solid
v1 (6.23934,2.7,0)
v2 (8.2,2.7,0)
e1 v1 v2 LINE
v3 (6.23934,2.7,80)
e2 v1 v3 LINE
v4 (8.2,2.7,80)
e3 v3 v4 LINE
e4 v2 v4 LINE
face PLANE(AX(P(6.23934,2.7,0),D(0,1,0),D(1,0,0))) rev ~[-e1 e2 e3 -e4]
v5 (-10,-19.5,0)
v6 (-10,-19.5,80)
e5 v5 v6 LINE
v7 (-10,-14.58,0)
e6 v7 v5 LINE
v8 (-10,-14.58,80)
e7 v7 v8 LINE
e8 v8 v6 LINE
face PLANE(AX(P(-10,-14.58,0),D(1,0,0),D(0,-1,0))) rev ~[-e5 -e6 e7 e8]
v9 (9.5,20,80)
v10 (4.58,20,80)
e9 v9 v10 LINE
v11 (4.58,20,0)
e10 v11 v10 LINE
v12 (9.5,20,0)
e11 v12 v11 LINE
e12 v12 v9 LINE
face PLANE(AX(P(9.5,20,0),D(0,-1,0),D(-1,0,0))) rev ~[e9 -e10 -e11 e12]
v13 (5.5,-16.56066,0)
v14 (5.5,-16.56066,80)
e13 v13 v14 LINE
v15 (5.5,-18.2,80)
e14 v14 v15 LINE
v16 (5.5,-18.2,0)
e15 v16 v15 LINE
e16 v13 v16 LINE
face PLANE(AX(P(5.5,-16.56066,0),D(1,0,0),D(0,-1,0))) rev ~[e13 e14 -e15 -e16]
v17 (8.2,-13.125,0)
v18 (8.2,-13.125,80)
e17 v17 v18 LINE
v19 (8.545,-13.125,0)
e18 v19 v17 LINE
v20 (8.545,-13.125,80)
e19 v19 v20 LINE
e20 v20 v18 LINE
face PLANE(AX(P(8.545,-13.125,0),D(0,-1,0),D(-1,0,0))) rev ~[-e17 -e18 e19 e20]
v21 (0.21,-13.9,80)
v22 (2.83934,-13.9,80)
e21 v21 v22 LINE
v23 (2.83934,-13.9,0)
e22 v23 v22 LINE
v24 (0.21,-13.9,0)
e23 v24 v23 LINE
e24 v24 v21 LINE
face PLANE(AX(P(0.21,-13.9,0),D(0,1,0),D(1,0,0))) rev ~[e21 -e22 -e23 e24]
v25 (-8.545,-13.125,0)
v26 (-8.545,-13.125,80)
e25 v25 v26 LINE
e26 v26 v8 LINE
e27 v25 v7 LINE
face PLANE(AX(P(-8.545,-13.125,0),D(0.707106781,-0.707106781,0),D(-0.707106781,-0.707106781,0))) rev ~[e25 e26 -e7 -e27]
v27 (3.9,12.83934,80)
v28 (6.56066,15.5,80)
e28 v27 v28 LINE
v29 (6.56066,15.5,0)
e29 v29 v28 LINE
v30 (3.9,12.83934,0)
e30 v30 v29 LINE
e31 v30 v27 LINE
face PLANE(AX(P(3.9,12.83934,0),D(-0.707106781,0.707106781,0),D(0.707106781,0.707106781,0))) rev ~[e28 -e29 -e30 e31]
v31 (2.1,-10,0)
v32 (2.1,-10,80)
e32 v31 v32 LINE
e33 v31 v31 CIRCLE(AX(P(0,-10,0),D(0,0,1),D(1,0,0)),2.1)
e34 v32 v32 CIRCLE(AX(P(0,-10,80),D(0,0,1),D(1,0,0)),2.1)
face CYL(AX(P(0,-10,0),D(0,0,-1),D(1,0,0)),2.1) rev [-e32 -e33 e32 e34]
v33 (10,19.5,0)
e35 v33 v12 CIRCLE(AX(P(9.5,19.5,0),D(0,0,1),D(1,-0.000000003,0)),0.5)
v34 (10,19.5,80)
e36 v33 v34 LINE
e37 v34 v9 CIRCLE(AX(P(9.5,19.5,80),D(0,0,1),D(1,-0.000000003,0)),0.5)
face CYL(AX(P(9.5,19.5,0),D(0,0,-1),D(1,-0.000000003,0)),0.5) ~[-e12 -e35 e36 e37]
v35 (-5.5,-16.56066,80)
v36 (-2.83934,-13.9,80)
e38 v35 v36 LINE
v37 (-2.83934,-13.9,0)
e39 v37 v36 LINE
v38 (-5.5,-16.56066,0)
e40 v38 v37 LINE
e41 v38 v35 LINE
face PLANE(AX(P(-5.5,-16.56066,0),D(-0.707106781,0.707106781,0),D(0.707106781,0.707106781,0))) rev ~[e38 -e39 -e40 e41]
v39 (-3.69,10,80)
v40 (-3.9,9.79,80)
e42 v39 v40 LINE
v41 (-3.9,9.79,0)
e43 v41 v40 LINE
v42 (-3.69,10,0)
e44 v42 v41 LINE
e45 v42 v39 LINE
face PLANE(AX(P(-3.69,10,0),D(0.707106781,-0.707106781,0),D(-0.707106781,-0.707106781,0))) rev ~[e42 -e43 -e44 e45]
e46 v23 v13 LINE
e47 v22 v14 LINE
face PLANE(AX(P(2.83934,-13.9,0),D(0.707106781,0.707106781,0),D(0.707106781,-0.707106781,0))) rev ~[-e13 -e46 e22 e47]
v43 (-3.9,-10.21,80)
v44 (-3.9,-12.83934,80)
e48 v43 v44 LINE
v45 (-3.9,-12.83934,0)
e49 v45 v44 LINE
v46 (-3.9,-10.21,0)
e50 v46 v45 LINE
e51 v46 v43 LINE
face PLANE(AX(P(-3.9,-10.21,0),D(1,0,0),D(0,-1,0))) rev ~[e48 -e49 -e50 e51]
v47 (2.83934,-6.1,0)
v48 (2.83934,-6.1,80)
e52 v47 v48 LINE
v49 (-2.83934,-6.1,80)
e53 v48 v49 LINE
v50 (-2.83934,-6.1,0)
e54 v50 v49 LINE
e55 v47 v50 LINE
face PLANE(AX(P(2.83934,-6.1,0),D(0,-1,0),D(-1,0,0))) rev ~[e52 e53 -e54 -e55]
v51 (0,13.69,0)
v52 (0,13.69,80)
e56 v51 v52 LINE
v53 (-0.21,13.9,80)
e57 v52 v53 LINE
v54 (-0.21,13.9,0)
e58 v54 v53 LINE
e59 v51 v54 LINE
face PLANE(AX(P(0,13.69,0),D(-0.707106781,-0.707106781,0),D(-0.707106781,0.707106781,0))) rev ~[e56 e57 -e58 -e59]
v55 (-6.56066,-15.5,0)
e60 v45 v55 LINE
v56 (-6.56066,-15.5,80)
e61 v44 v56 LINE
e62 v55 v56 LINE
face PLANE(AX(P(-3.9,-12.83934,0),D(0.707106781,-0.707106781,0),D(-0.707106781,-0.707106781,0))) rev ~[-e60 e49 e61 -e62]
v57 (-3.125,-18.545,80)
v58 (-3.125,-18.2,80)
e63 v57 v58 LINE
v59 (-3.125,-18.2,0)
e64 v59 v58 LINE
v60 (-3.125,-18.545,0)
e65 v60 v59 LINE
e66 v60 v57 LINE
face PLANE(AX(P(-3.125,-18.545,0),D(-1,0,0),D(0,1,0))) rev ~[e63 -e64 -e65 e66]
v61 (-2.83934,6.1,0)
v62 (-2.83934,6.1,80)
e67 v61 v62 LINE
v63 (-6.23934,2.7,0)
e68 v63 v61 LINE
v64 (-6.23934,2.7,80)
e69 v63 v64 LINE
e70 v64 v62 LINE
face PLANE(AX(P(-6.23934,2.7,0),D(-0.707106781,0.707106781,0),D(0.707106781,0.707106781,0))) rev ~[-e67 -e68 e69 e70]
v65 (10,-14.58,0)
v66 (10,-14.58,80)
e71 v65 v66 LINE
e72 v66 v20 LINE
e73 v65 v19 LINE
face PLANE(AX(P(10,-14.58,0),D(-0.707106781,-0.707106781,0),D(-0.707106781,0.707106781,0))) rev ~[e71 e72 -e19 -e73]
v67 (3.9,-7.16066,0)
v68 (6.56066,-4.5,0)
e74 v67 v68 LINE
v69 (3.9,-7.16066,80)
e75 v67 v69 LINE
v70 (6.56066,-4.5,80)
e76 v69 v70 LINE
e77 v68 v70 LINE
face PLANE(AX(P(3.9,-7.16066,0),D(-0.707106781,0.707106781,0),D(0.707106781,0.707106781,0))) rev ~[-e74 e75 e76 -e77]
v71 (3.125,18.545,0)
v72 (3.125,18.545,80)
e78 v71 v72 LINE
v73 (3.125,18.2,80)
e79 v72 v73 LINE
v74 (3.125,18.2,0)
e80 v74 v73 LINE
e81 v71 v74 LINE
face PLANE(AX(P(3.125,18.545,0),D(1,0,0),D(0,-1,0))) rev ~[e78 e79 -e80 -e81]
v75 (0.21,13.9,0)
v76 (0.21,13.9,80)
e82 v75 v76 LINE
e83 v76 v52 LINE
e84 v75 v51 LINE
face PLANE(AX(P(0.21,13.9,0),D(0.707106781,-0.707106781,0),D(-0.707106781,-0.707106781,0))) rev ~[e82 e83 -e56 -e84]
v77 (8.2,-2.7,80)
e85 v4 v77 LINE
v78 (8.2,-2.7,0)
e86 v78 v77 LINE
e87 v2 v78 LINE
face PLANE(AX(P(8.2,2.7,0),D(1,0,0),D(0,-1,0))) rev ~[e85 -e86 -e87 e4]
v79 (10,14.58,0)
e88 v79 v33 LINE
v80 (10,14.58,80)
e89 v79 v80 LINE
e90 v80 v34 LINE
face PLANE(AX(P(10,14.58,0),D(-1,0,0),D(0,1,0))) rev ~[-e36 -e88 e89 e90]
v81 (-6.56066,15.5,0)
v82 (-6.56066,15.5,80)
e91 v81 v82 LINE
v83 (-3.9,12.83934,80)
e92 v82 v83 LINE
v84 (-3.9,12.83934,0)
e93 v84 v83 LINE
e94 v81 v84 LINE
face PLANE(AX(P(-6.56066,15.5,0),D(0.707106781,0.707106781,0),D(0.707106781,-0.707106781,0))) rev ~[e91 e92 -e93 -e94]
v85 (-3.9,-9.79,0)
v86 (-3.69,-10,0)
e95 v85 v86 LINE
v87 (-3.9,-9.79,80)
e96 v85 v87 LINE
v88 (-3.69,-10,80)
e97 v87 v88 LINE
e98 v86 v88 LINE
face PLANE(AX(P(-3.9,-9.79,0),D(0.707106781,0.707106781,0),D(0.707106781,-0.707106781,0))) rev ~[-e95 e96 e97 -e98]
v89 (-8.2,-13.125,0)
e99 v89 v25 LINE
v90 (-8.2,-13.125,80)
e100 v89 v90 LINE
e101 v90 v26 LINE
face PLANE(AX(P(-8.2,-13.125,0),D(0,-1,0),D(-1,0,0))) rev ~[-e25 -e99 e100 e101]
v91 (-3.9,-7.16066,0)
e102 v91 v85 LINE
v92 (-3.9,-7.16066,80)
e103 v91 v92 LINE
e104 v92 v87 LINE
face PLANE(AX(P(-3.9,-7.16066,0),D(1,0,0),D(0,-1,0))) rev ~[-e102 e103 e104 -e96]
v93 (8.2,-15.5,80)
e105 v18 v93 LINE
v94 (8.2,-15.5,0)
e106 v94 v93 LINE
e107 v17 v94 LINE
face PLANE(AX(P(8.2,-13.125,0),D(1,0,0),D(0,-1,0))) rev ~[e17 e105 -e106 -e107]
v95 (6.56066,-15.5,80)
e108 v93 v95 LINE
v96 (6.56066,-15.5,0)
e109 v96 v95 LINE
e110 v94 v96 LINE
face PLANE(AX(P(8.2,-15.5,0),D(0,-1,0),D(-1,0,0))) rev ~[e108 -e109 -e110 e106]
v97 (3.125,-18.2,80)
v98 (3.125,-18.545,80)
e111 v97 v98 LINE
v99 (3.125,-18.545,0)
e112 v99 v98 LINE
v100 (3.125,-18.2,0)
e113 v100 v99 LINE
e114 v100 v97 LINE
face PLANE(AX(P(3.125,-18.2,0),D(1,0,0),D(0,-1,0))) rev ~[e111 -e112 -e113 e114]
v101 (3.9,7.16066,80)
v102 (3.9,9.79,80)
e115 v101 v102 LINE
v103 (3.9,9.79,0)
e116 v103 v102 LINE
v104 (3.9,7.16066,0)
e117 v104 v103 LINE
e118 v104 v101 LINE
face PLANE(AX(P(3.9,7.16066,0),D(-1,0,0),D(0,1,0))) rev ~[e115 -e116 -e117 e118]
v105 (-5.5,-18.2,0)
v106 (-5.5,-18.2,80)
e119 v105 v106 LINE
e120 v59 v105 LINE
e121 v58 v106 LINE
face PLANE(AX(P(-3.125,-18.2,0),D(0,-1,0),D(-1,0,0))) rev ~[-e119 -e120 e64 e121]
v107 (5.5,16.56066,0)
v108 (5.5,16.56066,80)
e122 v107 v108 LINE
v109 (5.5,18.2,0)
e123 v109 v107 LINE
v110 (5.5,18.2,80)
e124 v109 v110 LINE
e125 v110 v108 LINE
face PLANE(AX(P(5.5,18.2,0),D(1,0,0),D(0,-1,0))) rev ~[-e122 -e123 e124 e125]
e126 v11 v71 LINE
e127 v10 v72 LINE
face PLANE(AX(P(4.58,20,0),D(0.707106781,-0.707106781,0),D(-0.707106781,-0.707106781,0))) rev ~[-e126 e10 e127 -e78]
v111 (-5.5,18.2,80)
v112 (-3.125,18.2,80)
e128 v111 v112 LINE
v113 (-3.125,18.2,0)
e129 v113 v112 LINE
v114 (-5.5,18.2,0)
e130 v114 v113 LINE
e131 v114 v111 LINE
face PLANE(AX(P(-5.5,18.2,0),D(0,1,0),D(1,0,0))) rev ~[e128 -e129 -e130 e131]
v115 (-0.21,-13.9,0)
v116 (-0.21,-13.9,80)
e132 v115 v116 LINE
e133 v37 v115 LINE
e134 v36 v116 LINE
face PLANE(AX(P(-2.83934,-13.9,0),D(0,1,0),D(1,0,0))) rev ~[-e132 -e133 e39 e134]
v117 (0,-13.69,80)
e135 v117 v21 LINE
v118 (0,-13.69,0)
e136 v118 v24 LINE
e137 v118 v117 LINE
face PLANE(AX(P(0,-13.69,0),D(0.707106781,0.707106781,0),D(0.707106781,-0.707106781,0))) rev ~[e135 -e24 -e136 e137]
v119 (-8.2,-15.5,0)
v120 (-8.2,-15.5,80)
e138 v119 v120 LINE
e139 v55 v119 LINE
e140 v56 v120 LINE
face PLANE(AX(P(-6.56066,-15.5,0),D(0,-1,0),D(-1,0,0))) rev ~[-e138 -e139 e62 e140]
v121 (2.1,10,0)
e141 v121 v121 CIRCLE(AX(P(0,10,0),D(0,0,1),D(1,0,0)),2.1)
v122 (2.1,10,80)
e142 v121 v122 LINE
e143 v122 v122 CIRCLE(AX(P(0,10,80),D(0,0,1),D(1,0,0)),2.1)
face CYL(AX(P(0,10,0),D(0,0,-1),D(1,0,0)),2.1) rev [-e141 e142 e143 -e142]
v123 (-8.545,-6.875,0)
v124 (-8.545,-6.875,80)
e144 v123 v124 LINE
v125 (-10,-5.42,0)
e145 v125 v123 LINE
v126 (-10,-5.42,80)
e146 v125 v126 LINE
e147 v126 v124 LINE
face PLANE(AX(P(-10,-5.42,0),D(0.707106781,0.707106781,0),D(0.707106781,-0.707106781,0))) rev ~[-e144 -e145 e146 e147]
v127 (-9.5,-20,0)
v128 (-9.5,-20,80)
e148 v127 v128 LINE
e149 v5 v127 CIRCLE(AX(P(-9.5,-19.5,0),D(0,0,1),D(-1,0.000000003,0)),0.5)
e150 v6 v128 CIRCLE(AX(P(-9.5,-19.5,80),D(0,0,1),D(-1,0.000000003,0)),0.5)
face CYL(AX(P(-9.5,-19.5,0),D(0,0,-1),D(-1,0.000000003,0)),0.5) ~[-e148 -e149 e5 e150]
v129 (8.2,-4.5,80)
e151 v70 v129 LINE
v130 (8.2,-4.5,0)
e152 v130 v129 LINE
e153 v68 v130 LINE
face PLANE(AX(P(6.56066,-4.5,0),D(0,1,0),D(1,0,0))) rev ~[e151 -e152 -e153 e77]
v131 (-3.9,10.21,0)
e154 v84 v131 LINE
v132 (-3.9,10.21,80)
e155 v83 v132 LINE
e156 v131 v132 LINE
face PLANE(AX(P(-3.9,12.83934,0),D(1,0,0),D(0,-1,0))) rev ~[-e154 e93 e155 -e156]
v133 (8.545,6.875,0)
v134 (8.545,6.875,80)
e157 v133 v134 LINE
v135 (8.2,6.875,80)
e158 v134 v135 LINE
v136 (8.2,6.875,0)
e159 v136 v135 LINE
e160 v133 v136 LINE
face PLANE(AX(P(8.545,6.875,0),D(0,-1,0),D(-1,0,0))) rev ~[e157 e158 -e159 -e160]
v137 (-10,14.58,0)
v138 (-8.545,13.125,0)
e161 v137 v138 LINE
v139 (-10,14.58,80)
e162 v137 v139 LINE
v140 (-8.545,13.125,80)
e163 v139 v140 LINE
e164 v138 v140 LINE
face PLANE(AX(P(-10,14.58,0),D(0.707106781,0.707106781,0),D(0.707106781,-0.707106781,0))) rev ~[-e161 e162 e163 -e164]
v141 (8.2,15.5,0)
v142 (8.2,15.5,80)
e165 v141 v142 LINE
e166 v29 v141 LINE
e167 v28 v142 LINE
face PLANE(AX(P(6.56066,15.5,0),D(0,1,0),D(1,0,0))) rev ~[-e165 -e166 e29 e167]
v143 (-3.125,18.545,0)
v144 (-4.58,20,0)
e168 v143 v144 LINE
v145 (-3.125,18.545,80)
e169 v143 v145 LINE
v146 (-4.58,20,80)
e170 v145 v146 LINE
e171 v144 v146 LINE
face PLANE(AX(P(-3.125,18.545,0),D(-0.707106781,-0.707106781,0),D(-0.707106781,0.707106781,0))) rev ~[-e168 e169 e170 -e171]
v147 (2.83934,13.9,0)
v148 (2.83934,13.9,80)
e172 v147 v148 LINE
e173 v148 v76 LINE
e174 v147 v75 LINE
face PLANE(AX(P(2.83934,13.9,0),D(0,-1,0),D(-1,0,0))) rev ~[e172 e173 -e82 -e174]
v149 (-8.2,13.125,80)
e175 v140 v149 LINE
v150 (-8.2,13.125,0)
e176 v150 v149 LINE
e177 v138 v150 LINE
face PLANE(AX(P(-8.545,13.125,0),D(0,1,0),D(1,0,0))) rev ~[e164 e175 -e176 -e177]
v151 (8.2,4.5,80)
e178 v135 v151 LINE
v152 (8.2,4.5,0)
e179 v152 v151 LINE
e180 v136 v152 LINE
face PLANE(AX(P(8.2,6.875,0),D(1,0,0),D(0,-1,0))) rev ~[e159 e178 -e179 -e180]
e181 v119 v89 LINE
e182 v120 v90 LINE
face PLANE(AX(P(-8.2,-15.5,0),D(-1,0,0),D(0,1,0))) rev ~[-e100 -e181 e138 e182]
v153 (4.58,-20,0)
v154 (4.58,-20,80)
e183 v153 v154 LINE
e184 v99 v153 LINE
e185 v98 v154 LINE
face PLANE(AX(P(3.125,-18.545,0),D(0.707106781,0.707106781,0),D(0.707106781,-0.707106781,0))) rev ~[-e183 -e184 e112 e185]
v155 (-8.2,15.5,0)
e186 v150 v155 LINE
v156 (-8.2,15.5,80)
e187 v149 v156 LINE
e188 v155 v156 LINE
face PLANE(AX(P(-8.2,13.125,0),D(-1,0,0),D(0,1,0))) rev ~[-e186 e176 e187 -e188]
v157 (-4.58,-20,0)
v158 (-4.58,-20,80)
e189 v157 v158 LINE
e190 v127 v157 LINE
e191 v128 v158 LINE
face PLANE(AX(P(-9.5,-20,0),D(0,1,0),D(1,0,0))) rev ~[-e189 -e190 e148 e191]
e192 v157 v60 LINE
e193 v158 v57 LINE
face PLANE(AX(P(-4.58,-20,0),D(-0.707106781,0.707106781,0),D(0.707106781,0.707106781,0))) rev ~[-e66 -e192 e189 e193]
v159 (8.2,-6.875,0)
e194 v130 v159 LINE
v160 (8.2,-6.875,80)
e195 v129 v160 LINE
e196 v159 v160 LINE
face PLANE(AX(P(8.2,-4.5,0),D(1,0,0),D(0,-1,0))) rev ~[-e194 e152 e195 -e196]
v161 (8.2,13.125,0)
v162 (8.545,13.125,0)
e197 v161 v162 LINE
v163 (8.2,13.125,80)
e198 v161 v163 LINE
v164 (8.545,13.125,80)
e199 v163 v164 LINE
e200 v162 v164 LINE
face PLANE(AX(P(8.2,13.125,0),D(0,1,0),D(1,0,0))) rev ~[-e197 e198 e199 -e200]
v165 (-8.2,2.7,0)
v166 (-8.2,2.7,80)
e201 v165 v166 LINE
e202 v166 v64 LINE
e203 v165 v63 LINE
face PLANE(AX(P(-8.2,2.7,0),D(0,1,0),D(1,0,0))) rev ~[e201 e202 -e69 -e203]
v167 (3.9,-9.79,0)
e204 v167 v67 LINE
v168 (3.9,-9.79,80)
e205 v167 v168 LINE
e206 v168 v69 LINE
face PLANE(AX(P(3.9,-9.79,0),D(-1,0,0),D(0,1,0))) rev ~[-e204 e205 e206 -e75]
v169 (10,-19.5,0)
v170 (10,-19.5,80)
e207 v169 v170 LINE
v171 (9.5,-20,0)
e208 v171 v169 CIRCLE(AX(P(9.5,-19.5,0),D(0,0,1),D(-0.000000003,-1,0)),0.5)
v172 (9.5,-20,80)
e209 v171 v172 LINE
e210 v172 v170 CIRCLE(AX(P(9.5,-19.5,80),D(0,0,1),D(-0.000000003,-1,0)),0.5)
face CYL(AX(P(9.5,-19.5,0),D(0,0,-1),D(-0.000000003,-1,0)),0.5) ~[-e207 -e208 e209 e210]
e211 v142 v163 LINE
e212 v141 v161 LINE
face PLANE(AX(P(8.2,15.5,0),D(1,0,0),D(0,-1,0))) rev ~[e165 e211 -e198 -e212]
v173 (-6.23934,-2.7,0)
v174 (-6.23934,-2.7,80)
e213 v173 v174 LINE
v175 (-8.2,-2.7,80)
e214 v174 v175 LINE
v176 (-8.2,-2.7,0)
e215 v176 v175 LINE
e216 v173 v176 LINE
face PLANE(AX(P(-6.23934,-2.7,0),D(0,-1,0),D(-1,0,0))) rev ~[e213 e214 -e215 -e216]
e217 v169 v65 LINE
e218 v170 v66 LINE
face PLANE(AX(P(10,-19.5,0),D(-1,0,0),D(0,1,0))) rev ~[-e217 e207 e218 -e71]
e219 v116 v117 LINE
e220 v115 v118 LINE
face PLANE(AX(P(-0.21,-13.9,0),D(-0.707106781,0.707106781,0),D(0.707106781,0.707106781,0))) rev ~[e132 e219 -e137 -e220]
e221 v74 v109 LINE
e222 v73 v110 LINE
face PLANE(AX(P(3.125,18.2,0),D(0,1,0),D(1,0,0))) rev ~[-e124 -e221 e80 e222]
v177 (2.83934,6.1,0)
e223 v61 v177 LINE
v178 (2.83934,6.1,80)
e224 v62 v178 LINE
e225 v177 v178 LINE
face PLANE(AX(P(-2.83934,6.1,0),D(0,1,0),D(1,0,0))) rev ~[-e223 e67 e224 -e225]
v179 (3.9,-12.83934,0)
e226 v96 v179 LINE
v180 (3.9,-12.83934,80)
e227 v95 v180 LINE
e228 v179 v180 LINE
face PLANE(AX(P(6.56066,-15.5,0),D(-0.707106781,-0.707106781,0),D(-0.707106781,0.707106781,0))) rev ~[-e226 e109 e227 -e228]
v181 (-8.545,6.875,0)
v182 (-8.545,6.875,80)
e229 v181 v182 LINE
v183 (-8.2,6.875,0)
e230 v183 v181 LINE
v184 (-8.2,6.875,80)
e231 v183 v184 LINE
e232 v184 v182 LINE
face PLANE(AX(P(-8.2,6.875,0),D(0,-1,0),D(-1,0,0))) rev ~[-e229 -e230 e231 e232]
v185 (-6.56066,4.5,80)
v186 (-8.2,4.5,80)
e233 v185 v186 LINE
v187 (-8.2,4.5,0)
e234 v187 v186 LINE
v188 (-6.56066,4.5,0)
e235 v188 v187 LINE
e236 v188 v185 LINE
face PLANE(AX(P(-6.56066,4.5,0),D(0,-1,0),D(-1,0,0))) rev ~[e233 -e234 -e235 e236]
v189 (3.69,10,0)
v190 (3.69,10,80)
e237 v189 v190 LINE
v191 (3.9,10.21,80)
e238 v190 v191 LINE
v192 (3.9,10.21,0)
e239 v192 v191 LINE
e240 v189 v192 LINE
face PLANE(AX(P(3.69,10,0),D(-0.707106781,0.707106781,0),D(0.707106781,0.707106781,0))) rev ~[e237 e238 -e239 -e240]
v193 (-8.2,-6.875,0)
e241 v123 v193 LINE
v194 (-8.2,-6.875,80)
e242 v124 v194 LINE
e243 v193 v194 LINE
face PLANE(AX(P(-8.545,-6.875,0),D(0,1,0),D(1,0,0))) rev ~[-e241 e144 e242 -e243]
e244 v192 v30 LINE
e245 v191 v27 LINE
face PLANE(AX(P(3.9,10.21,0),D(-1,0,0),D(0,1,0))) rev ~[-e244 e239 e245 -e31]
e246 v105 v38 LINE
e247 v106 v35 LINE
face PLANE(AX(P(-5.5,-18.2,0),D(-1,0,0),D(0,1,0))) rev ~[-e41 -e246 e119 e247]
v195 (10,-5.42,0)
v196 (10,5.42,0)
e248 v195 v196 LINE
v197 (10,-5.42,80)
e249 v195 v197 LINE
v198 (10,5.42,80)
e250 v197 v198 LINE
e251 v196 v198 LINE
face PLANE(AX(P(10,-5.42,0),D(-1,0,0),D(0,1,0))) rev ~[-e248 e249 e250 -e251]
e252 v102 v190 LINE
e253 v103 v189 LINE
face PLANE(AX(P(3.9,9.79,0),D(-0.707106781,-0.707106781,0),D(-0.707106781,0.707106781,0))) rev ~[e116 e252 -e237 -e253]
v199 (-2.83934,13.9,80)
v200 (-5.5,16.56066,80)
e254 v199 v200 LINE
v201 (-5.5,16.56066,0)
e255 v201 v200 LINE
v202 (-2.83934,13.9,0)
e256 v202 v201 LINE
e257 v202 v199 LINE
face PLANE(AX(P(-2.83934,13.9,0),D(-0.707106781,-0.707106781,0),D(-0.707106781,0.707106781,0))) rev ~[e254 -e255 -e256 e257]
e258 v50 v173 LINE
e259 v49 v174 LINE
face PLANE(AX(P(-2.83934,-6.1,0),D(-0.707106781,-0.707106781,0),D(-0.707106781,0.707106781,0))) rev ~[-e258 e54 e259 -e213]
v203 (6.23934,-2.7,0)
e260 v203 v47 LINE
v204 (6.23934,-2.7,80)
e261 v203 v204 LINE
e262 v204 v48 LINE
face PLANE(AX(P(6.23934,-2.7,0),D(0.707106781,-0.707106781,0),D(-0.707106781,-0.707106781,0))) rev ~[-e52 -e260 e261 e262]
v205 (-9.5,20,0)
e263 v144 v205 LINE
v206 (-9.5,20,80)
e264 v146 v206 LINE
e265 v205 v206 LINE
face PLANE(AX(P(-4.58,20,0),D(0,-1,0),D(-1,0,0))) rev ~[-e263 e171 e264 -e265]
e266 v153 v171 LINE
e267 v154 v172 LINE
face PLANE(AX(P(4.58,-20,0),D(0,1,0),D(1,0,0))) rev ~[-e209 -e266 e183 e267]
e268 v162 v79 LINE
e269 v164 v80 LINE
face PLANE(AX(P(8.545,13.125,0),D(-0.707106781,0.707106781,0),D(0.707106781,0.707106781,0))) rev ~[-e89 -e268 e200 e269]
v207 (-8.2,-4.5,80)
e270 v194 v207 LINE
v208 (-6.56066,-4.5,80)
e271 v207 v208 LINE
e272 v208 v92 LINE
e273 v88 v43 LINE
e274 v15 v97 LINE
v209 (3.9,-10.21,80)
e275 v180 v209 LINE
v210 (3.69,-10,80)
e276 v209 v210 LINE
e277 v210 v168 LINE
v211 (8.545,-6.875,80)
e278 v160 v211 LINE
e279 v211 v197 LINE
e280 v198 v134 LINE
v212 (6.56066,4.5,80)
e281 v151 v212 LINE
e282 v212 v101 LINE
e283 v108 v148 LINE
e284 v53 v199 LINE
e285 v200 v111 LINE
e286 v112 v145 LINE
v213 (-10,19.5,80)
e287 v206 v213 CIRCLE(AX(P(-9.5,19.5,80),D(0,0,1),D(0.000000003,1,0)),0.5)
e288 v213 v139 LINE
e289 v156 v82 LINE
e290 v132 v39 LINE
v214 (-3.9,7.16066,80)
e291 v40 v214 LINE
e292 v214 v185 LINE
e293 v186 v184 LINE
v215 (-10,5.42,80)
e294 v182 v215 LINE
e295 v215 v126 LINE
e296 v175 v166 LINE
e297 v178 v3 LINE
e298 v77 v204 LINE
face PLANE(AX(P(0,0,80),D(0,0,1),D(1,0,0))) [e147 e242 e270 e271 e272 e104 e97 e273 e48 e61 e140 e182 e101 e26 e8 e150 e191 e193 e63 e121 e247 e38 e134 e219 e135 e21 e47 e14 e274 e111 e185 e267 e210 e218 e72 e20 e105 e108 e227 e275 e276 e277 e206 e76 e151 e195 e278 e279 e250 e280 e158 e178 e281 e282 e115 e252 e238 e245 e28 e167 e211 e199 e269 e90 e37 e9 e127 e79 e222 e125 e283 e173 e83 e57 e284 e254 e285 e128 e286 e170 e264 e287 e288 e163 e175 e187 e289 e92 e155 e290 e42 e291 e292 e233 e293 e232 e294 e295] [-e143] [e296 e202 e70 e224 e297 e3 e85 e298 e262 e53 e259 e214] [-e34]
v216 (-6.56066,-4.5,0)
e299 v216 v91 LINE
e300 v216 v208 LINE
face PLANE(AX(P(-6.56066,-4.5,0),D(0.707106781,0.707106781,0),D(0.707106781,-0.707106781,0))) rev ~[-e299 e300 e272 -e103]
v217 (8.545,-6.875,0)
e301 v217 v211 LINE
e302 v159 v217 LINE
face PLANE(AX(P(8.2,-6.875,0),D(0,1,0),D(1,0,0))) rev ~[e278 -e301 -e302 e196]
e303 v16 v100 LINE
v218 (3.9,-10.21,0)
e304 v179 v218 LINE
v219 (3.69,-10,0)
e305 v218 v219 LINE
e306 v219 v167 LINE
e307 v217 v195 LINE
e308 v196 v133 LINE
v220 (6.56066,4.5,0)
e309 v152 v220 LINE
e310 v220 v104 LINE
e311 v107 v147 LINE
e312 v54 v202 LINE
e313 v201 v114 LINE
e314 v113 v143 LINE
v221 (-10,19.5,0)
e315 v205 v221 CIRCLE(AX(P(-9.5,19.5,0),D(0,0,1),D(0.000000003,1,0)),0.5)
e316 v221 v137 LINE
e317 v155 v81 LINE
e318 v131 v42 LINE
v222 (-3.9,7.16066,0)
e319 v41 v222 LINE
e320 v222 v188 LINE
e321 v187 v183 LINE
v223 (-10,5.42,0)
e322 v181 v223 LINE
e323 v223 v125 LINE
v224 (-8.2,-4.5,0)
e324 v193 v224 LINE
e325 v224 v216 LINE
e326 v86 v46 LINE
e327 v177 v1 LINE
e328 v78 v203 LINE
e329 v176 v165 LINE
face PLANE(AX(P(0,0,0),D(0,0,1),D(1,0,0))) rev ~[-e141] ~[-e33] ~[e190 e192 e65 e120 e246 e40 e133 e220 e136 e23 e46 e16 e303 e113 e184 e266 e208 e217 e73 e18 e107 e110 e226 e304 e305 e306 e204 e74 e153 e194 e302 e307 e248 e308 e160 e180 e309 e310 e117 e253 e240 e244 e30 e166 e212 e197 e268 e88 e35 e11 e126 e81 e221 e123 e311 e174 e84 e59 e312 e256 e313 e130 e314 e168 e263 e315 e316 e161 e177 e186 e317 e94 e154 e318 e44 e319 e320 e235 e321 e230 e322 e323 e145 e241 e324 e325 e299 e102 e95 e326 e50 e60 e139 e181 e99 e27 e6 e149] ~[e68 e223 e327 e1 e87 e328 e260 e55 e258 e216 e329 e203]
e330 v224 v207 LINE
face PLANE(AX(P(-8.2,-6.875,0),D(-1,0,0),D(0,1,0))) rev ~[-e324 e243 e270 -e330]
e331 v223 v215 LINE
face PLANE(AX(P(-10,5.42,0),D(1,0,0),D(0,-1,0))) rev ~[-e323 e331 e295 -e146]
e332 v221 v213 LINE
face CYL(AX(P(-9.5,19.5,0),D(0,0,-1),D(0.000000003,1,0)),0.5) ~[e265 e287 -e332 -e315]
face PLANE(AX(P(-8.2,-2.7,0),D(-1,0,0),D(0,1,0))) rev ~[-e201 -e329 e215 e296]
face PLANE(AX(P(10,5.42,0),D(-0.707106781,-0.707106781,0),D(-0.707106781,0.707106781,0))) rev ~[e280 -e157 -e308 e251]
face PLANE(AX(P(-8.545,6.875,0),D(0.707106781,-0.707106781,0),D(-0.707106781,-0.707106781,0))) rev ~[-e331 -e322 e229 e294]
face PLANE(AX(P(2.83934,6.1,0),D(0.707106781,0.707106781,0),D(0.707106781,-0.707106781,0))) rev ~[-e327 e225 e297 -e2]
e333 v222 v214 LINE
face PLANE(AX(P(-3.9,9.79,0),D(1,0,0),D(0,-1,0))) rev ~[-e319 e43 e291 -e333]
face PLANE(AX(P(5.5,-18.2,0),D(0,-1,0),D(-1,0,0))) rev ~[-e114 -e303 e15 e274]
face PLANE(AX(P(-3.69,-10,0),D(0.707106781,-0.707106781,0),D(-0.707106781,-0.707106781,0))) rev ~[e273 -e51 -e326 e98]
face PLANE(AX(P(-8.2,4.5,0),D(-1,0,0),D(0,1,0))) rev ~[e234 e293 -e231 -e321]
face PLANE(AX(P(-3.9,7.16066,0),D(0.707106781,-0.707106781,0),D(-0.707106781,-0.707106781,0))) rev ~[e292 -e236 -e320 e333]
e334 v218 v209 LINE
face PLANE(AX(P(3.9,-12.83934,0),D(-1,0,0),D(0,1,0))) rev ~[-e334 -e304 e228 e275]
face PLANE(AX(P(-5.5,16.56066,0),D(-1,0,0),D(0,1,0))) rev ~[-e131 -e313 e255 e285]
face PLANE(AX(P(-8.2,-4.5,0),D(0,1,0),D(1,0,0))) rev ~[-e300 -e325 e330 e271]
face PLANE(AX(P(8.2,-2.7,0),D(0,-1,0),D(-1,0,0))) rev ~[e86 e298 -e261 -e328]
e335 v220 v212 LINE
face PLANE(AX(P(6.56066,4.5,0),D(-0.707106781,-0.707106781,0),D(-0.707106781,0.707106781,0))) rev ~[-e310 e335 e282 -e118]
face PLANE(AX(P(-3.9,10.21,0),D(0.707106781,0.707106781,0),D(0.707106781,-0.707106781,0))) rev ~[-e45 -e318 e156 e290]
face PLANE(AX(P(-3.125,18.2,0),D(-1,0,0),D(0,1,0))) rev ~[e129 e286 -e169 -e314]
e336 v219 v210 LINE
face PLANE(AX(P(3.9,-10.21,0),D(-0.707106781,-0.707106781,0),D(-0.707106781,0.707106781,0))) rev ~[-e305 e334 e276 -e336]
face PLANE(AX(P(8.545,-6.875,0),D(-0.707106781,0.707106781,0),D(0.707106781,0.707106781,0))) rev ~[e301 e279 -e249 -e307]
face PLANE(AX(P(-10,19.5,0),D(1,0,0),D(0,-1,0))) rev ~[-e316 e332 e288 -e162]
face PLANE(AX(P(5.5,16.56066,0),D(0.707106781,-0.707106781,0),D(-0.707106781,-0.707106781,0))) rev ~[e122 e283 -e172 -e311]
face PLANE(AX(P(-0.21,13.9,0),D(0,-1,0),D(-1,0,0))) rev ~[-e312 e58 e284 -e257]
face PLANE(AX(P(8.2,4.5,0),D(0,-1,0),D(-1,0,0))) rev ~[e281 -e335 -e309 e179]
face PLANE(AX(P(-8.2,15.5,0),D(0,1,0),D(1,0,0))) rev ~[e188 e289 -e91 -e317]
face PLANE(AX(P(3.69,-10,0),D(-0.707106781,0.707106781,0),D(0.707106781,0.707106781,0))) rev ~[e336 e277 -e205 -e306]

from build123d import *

# Parameters (mm, degrees)
SKETCH1_R           = 2.1
BOSS_EXTRUDE1_DEPTH = 80


with BuildPart() as part:
    # Sketch1 → Boss-Extrude1 (new body)
    with BuildSketch(Plane.XY):
        with BuildLine():
            Line((4.58, -20), (9.5, -20))
            ThreePointArc((9.5, -20), (9.853553391, -19.853553391), (10, -19.5))
            Line((10, -19.5), (10, -14.58))
            Line((10, -14.58), (8.545, -13.125))
            Line((8.545, -13.125), (8.2, -13.125))
            Line((8.2, -13.125), (8.2, -15.5))
            Line((8.2, -15.5), (6.560660172, -15.5))
            Line((6.560660172, -15.5), (3.9, -12.839339828))
            Line((3.9, -12.839339828), (3.9, -10.21))
            Line((3.9, -10.21), (3.69, -10))
            Line((3.69, -10), (3.9, -9.79))
            Line((3.9, -9.79), (3.9, -7.160660172))
            Line((3.9, -7.160660172), (6.560660172, -4.5))
            Line((6.560660172, -4.5), (8.2, -4.5))
            Line((8.2, -4.5), (8.2, -6.875))
            Line((8.2, -6.875), (8.545, -6.875))
            Line((8.545, -6.875), (10, -5.42))
            Line((10, -5.42), (10, 5.42))
            Line((10, 5.42), (8.545, 6.875))
            Line((8.545, 6.875), (8.2, 6.875))
            Line((8.2, 6.875), (8.2, 4.5))
            Line((8.2, 4.5), (6.560660172, 4.5))
            Line((6.560660172, 4.5), (3.9, 7.160660172))
            Line((3.9, 7.160660172), (3.9, 9.79))
            Line((3.9, 9.79), (3.69, 10))
            Line((3.69, 10), (3.9, 10.21))
            Line((3.9, 10.21), (3.9, 12.839339828))
            Line((3.9, 12.839339828), (6.560660172, 15.5))
            Line((6.560660172, 15.5), (8.2, 15.5))
            Line((8.2, 15.5), (8.2, 13.125))
            Line((8.2, 13.125), (8.545, 13.125))
            Line((8.545, 13.125), (10, 14.58))
            Line((10, 14.58), (10, 19.5))
            ThreePointArc((10, 19.5), (9.853553391, 19.853553391), (9.5, 20))
            Line((9.5, 20), (4.58, 20))
            Line((4.58, 20), (3.125, 18.545))
            Line((3.125, 18.545), (3.125, 18.2))
            Line((3.125, 18.2), (5.5, 18.2))
            Line((5.5, 18.2), (5.5, 16.560660172))
            Line((5.5, 16.560660172), (2.839339828, 13.9))
            Line((2.839339828, 13.9), (0.21, 13.9))
            Line((0.21, 13.9), (0, 13.69))
            Line((0, 13.69), (-0.21, 13.9))
            Line((-0.21, 13.9), (-2.839339828, 13.9))
            Line((-2.839339828, 13.9), (-5.5, 16.560660172))
            Line((-5.5, 16.560660172), (-5.5, 18.2))
            Line((-5.5, 18.2), (-3.125, 18.2))
            Line((-3.125, 18.2), (-3.125, 18.545))
            Line((-3.125, 18.545), (-4.58, 20))
            Line((-4.58, 20), (-9.5, 20))
            ThreePointArc((-9.5, 20), (-9.853553391, 19.853553391), (-10, 19.5))
            Line((-10, 19.5), (-10, 14.58))
            Line((-10, 14.58), (-8.545, 13.125))
            Line((-8.545, 13.125), (-8.2, 13.125))
            Line((-8.2, 13.125), (-8.2, 15.5))
            Line((-8.2, 15.5), (-6.560660172, 15.5))
            Line((-6.560660172, 15.5), (-3.9, 12.839339828))
            Line((-3.9, 12.839339828), (-3.9, 10.21))
            Line((-3.9, 10.21), (-3.69, 10))
            Line((-3.69, 10), (-3.9, 9.79))
            Line((-3.9, 9.79), (-3.9, 7.160660172))
            Line((-3.9, 7.160660172), (-6.560660172, 4.5))
            Line((-6.560660172, 4.5), (-8.2, 4.5))
            Line((-8.2, 4.5), (-8.2, 6.875))
            Line((-8.2, 6.875), (-8.545, 6.875))
            Line((-8.545, 6.875), (-10, 5.42))
            Line((-10, 5.42), (-10, -5.42))
            Line((-10, -5.42), (-8.545, -6.875))
            Line((-8.545, -6.875), (-8.2, -6.875))
            Line((-8.2, -6.875), (-8.2, -4.5))
            Line((-8.2, -4.5), (-6.560660172, -4.5))
            Line((-6.560660172, -4.5), (-3.9, -7.160660172))
            Line((-3.9, -7.160660172), (-3.9, -9.79))
            Line((-3.9, -9.79), (-3.69, -10))
            Line((-3.69, -10), (-3.9, -10.21))
            Line((-3.9, -10.21), (-3.9, -12.839339828))
            Line((-3.9, -12.839339828), (-6.560660172, -15.5))
            Line((-6.560660172, -15.5), (-8.2, -15.5))
            Line((-8.2, -15.5), (-8.2, -13.125))
            Line((-8.2, -13.125), (-8.545, -13.125))
            Line((-8.545, -13.125), (-10, -14.58))
            Line((-10, -14.58), (-10, -19.5))
            ThreePointArc((-10, -19.5), (-9.853553391, -19.853553391), (-9.5, -20))
            Line((-9.5, -20), (-4.58, -20))
            Line((-4.58, -20), (-3.125, -18.545))
            Line((-3.125, -18.545), (-3.125, -18.2))
            Line((-3.125, -18.2), (-5.5, -18.2))
            Line((-5.5, -18.2), (-5.5, -16.560660172))
            Line((-5.5, -16.560660172), (-2.839339828, -13.9))
            Line((-2.839339828, -13.9), (-0.21, -13.9))
            Line((-0.21, -13.9), (0, -13.69))
            Line((0, -13.69), (0.21, -13.9))
            Line((0.21, -13.9), (2.839339828, -13.9))
            Line((2.839339828, -13.9), (5.5, -16.560660172))
            Line((5.5, -16.560660172), (5.5, -18.2))
            Line((5.5, -18.2), (3.125, -18.2))
            Line((3.125, -18.2), (3.125, -18.545))
            Line((3.125, -18.545), (4.58, -20))
        make_face()
        with Locations((0, -10)):
            Circle(SKETCH1_R, mode=Mode.SUBTRACT)
        Polygon((-6.239339828, -2.7), (-8.2, -2.7), (-8.2, 2.7), (-6.239339828, 2.7), (-2.839339828, 6.1), (2.839339828, 6.1), (6.239339828, 2.7), (8.2, 2.7), (8.2, -2.7), (6.239339828, -2.7), (2.839339828, -6.1), (-2.839339828, -6.1), align=None, mode=Mode.SUBTRACT)
        with Locations((0, 10)):
            Circle(SKETCH1_R, mode=Mode.SUBTRACT)
    extrude(amount=BOSS_EXTRUDE1_DEPTH)


solid = part.part
